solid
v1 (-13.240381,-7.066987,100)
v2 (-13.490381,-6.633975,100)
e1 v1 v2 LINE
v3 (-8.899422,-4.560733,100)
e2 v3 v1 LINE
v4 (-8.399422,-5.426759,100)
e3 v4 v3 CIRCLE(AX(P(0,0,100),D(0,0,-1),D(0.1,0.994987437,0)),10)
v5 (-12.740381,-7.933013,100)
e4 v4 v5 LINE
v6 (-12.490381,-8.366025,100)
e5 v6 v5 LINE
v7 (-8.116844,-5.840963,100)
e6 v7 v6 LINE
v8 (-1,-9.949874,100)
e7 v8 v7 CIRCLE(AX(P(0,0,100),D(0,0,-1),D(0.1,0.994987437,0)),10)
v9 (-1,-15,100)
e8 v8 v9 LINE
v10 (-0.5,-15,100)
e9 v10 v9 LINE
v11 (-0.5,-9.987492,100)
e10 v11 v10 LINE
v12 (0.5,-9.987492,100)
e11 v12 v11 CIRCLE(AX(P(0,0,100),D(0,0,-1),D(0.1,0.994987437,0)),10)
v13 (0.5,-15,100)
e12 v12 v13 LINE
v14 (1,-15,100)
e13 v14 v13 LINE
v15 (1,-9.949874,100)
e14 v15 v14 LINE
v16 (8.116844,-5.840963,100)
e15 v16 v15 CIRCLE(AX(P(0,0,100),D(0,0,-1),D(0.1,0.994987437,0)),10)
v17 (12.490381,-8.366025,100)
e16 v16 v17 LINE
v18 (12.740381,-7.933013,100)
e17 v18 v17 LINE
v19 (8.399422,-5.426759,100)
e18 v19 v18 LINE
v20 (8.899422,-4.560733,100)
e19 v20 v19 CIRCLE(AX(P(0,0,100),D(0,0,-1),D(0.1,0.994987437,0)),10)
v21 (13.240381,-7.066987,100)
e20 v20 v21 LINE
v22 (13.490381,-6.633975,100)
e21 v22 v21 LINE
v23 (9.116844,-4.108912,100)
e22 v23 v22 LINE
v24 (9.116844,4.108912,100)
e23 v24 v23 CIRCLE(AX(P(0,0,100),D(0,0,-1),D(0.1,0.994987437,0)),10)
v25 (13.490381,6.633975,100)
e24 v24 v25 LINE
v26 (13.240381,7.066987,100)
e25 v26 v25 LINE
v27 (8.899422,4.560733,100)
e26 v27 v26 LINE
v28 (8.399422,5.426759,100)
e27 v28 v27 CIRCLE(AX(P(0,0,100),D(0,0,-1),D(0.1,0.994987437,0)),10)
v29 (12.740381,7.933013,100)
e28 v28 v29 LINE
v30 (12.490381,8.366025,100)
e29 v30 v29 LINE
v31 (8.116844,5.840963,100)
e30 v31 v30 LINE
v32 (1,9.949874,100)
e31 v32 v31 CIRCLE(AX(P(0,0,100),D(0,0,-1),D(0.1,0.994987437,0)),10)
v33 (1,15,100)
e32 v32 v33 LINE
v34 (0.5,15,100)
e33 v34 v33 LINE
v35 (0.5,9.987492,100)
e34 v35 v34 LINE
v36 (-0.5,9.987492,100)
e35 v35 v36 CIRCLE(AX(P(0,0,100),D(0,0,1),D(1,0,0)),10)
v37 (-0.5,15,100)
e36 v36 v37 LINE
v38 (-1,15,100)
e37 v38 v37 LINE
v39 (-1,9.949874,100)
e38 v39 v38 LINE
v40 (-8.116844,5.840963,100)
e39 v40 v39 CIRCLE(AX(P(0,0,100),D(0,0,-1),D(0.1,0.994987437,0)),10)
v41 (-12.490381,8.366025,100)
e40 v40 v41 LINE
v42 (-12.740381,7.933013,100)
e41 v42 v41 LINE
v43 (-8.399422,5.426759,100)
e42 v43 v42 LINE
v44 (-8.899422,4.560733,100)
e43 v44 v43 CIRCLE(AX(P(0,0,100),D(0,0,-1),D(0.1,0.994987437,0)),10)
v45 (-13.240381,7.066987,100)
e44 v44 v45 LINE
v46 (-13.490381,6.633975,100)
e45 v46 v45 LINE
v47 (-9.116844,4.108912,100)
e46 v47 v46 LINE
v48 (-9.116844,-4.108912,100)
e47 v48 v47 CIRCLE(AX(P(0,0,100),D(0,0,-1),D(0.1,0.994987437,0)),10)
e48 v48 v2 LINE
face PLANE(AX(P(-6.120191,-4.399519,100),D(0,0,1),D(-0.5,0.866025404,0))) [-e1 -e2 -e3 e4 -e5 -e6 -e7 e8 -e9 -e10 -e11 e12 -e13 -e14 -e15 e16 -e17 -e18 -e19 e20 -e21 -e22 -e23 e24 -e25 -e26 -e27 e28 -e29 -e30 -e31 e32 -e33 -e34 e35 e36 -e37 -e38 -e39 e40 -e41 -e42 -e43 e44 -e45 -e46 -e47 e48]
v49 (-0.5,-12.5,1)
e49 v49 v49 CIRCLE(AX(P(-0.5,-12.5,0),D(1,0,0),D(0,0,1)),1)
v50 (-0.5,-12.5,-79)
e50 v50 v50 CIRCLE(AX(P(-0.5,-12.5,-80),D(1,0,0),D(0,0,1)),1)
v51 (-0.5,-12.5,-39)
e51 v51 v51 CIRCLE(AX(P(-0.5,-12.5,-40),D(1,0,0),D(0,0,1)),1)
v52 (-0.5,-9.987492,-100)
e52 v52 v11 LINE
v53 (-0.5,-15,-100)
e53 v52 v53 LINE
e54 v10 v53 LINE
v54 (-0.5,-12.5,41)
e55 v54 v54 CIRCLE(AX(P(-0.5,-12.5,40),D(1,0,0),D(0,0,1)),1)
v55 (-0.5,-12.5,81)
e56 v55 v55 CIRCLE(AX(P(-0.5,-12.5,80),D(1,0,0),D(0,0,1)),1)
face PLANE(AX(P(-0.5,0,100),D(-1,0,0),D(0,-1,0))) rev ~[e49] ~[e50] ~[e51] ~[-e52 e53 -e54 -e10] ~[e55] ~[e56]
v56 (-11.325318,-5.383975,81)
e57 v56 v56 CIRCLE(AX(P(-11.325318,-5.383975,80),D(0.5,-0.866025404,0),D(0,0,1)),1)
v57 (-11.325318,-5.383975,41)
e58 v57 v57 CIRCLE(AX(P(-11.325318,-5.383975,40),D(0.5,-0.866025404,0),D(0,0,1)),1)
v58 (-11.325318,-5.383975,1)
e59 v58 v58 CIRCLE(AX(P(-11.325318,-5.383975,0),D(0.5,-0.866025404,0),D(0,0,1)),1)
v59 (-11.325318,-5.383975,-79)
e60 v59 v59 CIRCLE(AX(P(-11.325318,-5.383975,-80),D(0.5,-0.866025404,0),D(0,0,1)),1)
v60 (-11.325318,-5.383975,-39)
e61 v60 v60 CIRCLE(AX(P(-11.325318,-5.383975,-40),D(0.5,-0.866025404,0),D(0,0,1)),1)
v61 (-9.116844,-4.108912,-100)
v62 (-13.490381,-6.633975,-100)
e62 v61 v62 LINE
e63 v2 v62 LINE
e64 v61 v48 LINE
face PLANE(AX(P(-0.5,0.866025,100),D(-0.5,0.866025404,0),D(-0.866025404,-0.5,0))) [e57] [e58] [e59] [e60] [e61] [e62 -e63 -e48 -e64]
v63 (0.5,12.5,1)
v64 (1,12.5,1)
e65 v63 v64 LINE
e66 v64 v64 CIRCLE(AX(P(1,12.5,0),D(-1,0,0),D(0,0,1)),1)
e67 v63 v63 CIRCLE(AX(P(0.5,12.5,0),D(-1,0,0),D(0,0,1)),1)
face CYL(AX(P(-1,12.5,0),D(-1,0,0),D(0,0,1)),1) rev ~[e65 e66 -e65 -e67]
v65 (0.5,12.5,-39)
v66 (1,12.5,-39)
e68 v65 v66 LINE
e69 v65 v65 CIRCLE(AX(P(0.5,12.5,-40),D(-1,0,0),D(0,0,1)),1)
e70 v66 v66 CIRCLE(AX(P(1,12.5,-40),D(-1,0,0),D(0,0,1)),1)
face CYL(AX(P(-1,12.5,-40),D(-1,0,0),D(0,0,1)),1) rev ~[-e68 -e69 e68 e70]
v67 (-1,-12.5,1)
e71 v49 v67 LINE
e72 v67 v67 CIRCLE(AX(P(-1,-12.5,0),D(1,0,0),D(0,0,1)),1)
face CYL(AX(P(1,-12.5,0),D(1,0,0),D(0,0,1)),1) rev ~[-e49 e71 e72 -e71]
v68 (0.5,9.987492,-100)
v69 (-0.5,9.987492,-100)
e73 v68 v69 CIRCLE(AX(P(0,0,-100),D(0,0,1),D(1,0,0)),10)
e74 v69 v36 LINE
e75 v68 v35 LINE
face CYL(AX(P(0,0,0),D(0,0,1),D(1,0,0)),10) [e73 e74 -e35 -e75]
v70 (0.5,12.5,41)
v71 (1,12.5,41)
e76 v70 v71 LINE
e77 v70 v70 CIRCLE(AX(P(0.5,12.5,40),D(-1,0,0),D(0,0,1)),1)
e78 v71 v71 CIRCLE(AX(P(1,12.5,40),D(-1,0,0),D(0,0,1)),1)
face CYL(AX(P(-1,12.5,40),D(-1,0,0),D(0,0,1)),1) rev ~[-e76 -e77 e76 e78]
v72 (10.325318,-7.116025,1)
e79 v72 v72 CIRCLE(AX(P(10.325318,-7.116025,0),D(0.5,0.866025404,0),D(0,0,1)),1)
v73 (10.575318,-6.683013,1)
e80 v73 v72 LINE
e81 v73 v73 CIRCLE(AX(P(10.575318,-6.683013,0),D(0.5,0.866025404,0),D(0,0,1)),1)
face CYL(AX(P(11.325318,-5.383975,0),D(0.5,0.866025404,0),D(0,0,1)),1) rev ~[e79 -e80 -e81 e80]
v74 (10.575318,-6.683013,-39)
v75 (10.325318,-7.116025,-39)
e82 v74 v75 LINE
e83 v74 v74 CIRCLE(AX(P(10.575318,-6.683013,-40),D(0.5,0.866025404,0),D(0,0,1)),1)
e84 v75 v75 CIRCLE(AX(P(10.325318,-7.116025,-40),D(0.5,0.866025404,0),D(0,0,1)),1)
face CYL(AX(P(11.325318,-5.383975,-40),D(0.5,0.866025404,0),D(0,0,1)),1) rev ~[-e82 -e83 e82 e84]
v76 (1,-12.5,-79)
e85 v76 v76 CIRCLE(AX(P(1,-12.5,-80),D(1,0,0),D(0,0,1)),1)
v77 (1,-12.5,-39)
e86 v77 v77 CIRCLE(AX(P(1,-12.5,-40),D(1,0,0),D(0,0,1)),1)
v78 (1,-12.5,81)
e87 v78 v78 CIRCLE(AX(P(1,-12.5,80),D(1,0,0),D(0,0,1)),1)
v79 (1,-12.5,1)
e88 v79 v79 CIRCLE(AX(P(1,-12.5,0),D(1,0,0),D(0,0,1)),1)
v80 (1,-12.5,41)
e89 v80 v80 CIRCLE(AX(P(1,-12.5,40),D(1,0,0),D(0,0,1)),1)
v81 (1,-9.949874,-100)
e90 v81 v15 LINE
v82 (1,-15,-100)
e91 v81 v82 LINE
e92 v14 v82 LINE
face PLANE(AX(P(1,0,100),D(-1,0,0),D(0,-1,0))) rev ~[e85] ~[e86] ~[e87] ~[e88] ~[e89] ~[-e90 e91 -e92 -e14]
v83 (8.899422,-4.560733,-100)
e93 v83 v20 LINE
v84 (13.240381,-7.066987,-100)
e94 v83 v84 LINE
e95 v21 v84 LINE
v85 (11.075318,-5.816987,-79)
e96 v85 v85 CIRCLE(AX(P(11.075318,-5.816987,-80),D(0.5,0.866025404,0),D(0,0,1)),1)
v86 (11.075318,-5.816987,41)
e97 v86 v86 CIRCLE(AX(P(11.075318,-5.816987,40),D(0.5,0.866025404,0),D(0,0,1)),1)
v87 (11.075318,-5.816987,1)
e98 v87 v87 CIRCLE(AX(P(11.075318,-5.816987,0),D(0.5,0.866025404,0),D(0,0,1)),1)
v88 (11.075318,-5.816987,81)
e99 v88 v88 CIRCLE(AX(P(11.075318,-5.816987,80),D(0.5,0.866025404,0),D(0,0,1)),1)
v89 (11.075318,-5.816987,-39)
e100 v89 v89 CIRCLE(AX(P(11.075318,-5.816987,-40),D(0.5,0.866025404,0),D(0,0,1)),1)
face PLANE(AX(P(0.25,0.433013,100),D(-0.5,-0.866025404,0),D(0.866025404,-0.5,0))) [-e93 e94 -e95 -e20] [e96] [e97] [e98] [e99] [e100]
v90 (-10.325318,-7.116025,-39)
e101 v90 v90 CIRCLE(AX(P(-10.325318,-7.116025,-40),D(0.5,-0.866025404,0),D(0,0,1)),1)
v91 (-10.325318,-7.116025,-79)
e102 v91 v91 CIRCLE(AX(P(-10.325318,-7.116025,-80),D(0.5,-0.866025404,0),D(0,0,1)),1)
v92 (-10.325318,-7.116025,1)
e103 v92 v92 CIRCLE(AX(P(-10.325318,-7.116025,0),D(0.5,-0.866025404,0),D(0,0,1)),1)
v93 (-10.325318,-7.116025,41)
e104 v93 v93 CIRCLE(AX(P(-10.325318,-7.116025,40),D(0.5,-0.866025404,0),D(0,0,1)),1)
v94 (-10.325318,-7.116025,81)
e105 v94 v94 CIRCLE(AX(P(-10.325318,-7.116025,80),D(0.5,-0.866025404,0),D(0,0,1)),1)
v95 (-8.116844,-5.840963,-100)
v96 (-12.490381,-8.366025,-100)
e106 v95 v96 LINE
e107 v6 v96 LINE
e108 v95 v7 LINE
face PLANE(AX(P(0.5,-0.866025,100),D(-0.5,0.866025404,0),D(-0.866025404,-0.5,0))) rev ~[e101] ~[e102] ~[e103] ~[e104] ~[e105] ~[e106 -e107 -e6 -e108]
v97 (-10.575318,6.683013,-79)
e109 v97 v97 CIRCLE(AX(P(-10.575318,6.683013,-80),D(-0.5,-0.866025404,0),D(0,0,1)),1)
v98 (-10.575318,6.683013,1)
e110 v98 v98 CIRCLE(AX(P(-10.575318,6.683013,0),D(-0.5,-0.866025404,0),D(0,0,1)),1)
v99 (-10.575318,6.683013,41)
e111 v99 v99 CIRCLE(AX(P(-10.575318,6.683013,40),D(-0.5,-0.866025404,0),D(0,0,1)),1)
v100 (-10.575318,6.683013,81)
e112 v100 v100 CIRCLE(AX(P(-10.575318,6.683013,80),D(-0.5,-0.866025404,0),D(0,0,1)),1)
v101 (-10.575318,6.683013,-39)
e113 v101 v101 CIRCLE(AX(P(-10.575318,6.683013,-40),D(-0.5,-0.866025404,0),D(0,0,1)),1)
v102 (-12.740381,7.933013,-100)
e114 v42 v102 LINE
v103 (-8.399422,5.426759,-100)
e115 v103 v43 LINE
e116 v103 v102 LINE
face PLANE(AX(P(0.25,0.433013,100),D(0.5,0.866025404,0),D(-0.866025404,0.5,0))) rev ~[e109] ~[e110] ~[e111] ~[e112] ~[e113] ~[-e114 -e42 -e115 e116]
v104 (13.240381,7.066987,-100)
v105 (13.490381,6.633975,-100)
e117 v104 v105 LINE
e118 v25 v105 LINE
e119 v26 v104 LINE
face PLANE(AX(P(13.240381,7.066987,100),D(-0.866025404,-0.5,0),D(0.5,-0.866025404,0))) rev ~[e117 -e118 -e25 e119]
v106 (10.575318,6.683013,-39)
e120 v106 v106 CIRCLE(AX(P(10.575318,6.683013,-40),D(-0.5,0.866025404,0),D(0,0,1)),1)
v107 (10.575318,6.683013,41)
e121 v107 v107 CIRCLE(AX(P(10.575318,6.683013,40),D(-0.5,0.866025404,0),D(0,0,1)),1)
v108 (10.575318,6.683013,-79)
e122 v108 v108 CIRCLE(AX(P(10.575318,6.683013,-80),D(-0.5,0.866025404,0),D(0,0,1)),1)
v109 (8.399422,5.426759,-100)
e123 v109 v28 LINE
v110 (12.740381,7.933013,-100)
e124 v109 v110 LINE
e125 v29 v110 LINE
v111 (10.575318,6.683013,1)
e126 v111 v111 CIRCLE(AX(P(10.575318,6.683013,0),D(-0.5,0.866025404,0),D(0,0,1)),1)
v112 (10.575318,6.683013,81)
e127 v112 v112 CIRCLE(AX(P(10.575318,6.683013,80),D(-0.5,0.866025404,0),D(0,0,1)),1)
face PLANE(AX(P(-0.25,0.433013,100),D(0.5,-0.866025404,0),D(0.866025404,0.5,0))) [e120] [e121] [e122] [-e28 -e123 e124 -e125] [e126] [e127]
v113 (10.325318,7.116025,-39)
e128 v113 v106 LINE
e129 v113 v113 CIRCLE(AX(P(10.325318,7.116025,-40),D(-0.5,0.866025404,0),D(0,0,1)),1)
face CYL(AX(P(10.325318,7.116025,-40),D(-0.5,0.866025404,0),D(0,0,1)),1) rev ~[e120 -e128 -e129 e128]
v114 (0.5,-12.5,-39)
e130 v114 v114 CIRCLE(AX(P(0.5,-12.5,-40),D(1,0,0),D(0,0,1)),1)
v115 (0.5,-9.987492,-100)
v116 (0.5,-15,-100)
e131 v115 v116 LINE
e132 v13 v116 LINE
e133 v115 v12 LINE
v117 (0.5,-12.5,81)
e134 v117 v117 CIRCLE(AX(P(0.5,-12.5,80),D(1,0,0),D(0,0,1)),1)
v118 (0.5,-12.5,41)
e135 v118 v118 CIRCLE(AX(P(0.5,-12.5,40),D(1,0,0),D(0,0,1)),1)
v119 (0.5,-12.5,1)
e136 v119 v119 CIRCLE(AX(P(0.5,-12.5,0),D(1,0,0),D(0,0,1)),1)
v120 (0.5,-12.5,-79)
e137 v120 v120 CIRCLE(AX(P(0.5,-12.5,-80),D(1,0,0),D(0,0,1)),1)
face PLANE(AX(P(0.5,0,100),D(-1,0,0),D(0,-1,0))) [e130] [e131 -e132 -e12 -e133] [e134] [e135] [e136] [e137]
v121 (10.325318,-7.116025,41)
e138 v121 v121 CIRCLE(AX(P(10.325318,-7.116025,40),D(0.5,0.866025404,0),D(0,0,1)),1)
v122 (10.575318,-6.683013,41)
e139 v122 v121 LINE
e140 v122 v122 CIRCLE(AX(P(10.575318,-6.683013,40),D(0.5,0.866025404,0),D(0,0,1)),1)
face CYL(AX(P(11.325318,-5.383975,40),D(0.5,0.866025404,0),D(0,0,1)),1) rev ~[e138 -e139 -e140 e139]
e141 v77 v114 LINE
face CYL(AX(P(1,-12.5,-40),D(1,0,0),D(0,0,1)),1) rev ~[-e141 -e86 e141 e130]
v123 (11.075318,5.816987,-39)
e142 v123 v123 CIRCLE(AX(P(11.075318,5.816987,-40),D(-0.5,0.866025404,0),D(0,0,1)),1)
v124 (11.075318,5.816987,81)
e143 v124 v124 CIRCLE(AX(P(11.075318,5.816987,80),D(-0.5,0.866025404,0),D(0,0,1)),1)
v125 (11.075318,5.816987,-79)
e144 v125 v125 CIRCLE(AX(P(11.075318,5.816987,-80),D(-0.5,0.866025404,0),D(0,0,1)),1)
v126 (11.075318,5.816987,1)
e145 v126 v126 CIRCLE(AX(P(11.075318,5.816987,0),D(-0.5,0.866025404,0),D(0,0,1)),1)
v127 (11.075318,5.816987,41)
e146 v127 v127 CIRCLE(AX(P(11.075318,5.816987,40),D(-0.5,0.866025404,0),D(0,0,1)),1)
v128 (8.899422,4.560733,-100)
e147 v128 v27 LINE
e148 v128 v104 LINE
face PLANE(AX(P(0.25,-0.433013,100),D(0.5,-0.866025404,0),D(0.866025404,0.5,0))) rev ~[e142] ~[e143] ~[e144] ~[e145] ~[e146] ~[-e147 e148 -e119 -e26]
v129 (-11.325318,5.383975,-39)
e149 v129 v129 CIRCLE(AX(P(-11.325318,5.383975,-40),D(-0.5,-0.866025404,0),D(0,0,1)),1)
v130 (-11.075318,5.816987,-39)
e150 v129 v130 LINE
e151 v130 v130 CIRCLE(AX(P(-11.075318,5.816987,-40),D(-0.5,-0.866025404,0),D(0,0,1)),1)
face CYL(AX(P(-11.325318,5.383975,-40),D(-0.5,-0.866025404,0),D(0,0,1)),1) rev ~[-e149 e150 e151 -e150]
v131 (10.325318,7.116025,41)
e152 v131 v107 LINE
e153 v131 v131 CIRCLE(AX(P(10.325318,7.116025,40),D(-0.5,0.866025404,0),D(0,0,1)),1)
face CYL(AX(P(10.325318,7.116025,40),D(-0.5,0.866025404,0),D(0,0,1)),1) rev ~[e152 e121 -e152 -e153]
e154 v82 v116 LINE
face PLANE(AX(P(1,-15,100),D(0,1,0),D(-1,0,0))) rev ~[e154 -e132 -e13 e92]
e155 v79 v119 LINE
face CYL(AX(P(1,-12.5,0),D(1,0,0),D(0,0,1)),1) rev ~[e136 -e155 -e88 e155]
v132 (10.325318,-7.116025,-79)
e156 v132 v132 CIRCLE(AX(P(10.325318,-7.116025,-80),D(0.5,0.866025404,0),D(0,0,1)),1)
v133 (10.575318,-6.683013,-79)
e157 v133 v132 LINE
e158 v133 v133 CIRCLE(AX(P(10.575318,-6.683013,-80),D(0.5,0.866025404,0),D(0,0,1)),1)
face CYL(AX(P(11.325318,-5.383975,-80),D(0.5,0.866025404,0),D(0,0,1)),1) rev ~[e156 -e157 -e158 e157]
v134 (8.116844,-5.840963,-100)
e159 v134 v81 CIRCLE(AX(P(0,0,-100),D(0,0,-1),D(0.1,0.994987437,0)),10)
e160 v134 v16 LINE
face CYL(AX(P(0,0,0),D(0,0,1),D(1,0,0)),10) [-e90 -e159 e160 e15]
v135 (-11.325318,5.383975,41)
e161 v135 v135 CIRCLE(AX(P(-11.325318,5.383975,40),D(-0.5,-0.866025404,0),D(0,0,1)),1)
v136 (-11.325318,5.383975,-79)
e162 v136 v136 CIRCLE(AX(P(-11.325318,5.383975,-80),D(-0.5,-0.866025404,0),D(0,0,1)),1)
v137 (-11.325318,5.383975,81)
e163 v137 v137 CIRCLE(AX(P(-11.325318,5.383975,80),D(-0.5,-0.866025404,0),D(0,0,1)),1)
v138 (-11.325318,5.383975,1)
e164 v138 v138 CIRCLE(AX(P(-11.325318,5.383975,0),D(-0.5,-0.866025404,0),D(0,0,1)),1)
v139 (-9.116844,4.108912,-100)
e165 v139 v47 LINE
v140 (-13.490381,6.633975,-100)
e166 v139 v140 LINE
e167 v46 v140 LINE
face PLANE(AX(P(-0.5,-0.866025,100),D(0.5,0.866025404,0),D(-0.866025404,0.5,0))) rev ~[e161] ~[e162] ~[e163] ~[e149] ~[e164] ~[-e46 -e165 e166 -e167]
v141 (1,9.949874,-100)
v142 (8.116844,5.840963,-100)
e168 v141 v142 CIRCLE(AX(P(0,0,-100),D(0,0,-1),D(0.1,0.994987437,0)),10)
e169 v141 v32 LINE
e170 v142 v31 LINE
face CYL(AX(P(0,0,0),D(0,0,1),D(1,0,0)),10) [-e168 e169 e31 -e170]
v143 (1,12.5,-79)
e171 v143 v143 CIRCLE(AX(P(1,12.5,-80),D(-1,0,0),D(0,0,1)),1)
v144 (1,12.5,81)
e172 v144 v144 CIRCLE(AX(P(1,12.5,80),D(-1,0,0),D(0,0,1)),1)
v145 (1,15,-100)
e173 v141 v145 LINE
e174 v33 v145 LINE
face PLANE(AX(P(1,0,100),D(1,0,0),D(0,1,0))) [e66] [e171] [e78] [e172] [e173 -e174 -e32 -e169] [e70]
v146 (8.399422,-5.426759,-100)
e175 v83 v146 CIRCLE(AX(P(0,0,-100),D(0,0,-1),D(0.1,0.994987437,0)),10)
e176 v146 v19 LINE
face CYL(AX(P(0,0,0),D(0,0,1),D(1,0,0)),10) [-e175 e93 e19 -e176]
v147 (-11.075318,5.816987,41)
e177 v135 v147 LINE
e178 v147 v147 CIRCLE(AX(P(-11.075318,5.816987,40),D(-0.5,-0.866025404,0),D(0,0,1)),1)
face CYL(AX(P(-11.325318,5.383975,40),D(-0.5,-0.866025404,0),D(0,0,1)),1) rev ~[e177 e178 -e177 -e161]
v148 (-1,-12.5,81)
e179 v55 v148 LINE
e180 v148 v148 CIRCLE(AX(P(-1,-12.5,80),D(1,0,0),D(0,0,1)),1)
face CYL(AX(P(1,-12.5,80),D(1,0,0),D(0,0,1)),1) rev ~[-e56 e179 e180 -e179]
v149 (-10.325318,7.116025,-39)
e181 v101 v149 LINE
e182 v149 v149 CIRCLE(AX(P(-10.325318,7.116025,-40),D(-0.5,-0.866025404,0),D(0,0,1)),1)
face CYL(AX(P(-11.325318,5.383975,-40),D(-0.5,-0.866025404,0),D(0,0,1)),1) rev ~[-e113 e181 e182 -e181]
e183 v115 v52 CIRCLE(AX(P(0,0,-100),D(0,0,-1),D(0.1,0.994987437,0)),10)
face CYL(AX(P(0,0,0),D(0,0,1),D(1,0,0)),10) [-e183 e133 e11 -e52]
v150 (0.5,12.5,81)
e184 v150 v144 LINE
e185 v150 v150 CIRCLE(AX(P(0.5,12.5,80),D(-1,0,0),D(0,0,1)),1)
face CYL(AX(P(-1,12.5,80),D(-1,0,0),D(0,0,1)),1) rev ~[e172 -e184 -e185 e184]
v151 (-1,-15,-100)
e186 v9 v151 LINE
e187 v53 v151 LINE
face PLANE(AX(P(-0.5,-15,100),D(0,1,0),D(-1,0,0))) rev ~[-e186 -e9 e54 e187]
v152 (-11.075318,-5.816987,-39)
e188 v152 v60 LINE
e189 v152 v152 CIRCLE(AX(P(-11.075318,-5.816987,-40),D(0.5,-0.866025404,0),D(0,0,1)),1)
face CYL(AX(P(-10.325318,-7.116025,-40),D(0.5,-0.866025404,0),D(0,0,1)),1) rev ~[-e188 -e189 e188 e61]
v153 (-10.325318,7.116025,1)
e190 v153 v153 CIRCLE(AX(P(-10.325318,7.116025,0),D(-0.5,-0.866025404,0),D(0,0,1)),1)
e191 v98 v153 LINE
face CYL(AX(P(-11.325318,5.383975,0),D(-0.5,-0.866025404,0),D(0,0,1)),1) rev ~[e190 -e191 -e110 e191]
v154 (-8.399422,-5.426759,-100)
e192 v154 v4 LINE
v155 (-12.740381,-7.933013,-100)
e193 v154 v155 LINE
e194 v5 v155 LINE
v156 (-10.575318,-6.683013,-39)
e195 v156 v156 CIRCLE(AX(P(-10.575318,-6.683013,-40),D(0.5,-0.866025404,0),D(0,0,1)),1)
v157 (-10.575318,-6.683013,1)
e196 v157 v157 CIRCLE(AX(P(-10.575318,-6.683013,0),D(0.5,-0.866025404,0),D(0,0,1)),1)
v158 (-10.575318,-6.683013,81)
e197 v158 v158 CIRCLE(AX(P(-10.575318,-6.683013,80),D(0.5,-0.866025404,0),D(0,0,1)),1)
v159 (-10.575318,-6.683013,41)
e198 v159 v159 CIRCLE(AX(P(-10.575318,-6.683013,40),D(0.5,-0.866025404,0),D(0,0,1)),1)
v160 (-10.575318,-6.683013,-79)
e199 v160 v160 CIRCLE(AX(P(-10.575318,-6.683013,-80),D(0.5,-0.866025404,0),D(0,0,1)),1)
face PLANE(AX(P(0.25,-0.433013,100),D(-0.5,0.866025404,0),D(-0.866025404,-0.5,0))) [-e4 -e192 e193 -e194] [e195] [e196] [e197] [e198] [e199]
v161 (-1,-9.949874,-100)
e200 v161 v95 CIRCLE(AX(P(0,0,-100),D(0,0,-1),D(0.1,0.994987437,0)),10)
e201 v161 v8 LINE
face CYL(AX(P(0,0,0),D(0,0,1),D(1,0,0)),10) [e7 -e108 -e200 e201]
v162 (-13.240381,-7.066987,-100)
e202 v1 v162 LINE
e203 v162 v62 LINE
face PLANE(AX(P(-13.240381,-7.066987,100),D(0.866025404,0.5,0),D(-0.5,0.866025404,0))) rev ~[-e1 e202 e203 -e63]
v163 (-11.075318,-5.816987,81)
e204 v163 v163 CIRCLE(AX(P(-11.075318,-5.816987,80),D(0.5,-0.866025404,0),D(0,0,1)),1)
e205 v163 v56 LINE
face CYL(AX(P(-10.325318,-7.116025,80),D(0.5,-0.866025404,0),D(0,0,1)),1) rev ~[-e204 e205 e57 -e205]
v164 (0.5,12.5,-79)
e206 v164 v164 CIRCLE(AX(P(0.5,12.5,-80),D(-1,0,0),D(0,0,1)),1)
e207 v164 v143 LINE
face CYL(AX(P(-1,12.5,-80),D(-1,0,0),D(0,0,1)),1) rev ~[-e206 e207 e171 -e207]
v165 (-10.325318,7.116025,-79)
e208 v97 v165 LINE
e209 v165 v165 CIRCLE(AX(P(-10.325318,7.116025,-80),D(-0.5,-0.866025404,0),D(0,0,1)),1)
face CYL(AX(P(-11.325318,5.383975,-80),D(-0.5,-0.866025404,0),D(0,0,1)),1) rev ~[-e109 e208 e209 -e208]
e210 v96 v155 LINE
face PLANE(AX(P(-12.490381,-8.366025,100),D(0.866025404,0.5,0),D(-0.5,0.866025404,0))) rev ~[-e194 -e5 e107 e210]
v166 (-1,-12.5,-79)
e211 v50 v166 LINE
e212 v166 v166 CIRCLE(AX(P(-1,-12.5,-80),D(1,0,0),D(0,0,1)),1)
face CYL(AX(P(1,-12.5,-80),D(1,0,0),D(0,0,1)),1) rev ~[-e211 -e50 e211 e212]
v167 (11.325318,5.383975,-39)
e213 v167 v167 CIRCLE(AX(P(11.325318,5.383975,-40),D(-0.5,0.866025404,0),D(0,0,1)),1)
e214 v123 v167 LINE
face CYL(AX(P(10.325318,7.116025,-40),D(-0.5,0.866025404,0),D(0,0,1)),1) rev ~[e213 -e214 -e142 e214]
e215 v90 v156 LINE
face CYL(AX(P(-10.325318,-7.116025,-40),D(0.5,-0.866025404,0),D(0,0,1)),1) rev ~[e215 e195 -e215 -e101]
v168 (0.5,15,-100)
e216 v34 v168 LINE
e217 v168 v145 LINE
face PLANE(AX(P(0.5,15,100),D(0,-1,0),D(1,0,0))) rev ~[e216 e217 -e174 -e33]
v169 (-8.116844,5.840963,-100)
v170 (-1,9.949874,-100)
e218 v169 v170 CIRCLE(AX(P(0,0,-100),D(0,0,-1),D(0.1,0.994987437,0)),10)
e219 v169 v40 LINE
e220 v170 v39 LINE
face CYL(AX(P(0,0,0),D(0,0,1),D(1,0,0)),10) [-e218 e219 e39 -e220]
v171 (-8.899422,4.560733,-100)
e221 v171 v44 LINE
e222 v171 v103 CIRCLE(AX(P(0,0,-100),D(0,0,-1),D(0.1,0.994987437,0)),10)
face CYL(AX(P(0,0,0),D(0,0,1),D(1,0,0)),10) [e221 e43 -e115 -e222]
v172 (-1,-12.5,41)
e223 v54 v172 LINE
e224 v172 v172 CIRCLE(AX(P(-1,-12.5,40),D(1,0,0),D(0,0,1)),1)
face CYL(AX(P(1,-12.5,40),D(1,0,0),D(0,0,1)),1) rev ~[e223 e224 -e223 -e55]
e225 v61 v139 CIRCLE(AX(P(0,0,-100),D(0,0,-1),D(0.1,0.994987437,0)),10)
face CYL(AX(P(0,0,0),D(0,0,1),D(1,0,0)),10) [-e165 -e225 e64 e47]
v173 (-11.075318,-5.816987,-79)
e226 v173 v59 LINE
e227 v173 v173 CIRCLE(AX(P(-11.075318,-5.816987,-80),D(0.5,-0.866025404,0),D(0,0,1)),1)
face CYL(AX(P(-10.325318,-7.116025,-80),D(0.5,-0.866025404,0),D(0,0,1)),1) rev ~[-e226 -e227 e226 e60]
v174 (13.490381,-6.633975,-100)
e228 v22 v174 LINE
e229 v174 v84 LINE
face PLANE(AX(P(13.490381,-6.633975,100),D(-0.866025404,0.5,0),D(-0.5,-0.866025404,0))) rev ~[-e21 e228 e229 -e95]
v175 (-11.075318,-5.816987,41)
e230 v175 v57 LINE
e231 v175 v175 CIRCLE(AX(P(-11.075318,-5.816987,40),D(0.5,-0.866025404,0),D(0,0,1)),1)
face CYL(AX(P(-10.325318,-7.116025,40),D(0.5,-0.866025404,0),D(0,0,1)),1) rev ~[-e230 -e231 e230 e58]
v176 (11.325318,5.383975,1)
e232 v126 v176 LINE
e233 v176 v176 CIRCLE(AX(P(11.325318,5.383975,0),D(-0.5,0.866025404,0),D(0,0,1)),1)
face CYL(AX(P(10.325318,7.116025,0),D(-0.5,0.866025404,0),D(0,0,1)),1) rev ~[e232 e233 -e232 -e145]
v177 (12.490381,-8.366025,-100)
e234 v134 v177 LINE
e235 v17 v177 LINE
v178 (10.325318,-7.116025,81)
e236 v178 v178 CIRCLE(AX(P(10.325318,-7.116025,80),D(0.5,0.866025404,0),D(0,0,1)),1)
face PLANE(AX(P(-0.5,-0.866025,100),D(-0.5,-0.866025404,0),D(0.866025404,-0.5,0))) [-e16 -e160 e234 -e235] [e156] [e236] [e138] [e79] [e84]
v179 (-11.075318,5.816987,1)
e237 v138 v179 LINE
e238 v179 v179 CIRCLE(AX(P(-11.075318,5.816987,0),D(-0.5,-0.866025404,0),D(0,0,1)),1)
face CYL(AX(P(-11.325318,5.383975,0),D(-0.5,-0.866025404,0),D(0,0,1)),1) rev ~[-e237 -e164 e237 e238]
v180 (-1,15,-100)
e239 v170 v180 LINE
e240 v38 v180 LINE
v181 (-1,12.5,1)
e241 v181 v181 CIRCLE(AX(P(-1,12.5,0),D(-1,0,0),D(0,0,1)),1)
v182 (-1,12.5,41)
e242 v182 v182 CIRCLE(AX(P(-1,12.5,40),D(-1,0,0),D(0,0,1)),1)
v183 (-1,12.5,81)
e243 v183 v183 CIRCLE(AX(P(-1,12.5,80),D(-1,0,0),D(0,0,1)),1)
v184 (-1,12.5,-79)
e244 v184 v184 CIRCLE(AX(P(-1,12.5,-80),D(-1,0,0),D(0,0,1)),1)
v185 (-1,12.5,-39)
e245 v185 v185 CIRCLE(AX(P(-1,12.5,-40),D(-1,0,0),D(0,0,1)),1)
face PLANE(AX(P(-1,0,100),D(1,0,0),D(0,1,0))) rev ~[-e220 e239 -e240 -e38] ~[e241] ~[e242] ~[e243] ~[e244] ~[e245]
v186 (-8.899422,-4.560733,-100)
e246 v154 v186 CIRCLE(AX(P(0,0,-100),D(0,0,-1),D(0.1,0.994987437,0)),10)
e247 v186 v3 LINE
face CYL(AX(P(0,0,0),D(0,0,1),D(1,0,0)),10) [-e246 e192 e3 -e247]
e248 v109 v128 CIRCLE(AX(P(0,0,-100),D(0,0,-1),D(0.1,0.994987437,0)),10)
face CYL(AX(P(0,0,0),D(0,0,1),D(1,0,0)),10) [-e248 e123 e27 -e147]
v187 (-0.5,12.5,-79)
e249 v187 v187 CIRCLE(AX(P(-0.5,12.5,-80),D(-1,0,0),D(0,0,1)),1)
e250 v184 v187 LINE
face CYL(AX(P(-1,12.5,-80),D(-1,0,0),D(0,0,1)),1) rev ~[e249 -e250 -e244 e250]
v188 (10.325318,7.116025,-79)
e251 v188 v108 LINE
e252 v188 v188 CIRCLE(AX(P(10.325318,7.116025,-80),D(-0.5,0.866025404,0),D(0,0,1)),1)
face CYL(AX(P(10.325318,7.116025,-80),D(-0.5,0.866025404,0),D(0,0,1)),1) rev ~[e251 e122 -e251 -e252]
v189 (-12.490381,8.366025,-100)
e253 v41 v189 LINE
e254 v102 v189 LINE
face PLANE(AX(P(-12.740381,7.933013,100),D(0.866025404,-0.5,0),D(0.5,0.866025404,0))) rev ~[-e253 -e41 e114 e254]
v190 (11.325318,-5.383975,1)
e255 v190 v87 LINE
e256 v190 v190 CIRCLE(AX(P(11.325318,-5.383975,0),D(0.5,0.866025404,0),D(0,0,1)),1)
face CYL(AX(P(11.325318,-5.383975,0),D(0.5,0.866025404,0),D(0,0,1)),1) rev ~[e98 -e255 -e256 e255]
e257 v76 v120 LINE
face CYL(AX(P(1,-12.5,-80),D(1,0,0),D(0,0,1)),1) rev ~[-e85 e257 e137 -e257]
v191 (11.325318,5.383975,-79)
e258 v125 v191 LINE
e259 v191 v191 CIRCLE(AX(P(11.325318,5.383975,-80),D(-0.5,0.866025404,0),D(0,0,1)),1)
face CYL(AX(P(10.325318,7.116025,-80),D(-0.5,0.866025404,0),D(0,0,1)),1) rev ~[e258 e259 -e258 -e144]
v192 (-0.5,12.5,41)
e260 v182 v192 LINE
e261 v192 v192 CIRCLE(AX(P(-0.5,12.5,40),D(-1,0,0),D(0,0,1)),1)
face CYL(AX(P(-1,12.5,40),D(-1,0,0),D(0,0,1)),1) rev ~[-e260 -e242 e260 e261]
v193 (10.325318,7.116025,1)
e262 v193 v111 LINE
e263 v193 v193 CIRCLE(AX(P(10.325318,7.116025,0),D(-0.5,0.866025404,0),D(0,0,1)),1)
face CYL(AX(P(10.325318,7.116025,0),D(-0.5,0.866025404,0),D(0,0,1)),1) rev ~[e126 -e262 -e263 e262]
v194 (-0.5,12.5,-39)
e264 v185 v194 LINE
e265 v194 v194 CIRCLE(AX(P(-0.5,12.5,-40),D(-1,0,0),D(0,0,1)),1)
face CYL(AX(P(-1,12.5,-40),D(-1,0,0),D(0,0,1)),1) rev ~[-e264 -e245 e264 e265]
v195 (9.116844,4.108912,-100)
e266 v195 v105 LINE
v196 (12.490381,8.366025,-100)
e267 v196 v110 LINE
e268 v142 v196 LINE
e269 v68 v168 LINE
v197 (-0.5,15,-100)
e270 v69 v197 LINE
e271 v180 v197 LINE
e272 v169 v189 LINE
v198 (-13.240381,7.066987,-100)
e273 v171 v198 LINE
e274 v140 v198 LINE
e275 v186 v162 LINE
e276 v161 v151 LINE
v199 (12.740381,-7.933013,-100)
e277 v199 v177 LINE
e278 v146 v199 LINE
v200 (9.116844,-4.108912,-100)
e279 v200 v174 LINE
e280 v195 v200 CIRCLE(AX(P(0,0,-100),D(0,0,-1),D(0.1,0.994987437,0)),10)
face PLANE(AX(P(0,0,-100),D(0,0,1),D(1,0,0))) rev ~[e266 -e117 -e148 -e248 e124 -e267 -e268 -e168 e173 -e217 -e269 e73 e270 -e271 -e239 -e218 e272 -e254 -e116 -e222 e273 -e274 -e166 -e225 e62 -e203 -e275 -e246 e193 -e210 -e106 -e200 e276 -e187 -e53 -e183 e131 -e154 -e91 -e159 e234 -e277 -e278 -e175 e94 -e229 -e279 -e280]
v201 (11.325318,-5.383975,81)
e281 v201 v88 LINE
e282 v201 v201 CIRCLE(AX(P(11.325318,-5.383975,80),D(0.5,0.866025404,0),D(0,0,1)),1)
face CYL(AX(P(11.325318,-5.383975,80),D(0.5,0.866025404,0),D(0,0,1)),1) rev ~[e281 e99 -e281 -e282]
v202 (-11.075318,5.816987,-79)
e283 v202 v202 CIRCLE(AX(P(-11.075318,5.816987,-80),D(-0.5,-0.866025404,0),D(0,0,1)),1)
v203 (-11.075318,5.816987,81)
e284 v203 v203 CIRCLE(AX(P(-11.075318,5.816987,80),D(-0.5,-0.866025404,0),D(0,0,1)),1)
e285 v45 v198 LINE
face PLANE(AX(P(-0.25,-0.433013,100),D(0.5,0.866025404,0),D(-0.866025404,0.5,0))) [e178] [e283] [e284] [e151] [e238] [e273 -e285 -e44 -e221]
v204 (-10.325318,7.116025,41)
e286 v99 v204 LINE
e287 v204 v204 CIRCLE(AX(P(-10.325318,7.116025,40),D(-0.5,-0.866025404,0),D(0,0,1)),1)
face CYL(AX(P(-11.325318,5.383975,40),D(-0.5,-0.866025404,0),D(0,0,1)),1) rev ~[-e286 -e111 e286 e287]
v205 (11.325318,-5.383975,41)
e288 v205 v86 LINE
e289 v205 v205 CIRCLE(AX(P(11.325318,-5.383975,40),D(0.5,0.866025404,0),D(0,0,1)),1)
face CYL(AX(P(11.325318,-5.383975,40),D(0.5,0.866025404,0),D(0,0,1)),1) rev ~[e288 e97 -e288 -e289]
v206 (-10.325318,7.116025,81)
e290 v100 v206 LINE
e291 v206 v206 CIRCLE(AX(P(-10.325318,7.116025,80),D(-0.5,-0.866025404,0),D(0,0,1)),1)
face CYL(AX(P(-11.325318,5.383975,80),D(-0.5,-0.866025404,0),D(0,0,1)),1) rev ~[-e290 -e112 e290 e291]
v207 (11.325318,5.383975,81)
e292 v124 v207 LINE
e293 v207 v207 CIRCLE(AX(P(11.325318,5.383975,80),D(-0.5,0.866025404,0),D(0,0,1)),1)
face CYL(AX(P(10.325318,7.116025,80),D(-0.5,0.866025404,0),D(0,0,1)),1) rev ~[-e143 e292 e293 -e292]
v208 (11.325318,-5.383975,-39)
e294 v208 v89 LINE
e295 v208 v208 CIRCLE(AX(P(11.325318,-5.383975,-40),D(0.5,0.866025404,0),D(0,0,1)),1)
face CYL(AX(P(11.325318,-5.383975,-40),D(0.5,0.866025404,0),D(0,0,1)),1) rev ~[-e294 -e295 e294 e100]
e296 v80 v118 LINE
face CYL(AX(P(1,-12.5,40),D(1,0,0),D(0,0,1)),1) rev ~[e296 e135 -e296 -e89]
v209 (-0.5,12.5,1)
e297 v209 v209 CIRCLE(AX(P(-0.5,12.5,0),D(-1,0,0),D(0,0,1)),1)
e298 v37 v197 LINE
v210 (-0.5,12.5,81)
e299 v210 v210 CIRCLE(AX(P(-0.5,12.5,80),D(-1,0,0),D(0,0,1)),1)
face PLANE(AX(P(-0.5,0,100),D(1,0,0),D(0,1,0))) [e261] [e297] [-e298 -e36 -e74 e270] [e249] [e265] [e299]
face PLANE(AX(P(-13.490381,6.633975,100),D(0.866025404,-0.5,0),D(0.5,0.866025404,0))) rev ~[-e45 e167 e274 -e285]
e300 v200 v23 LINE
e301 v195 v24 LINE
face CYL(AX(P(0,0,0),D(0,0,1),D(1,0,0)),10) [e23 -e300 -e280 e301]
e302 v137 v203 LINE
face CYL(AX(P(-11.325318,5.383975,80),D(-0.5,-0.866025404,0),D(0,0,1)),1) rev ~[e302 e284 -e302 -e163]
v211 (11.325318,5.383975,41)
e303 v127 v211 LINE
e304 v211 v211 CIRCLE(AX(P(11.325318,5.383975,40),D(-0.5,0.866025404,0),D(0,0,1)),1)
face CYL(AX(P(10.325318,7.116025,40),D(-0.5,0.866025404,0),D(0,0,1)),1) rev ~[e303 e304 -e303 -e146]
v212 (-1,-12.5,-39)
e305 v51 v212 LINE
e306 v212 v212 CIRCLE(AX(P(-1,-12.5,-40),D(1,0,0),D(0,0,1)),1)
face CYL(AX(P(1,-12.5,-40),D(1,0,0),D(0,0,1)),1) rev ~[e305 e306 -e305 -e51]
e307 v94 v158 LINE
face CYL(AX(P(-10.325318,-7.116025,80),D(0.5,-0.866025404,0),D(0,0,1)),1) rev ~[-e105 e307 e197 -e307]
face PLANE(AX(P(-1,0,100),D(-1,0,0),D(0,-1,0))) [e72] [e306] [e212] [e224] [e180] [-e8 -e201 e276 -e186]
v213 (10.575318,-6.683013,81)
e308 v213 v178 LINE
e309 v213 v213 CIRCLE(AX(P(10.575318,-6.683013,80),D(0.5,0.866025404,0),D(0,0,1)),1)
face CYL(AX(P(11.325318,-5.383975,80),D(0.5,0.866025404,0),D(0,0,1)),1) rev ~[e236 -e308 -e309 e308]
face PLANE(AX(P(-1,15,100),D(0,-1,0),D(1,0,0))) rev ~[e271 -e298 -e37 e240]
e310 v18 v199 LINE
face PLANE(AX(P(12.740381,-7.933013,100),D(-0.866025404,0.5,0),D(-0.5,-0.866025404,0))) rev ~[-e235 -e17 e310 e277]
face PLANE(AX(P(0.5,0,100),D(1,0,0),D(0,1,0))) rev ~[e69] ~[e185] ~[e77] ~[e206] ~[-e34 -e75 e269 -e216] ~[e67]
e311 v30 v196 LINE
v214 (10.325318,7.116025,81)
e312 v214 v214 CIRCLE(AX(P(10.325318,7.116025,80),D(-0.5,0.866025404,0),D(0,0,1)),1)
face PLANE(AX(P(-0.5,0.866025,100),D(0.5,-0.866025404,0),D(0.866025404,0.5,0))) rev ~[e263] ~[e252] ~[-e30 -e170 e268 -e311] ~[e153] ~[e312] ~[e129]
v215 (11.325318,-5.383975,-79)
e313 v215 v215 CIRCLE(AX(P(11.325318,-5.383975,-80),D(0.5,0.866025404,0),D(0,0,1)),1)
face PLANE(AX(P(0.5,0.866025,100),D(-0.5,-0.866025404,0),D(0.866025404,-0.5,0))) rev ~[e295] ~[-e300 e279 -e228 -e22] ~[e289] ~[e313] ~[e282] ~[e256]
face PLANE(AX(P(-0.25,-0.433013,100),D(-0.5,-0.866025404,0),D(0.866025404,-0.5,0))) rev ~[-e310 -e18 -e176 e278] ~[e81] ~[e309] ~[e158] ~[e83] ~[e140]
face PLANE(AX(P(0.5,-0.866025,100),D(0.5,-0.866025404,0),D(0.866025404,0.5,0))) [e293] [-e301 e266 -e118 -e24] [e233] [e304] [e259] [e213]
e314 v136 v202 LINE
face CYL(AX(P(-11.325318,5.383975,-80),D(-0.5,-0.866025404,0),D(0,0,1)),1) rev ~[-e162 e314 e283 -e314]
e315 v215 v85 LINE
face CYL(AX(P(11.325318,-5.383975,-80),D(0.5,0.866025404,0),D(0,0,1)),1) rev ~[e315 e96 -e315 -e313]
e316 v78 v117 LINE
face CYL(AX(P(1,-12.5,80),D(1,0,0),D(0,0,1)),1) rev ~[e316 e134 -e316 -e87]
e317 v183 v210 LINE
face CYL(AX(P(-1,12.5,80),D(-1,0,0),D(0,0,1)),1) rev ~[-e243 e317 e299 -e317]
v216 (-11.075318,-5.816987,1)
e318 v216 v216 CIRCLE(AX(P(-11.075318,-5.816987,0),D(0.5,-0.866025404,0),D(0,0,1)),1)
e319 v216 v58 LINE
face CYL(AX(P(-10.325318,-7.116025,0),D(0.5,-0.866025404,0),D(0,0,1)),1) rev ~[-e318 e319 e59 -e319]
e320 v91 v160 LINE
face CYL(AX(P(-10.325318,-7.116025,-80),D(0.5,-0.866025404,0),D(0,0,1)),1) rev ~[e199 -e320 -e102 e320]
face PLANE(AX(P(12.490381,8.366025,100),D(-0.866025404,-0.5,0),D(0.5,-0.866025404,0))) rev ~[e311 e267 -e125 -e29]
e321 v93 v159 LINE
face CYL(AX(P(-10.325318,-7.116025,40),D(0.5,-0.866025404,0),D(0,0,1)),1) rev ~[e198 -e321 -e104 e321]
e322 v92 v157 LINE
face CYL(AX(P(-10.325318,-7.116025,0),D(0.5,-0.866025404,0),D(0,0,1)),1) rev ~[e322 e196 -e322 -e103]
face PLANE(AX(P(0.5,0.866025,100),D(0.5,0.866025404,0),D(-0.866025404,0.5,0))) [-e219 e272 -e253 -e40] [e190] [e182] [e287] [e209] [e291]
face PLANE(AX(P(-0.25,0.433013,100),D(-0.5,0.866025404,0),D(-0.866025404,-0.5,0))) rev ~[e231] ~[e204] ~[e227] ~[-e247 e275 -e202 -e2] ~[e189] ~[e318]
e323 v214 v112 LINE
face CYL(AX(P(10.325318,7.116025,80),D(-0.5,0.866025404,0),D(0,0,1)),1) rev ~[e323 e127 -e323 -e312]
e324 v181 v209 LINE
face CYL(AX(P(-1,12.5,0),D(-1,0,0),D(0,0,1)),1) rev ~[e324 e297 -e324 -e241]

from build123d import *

# Parameters (mm, degrees)
SKETCH1_R           = 10
BOSS_EXTRUDE1_DEPTH = 100
SKETCH4_W           = 0.5
SKETCH4_H           = 15
BOSS_EXTRUDE3_DEPTH = 200
CIRPATTERN7_COUNT   = 6
SKETCH7_R           = 1
CUT_EXTRUDE2_DEPTH  = 5
CIRPATTERN9_COUNT   = 6


with BuildPart() as part:
    # Sketch1 → Boss-Extrude1 (new, symmetric)
    with BuildSketch(Plane.XY):
        Circle(SKETCH1_R)
    extrude(amount=BOSS_EXTRUDE1_DEPTH, both=True)

    # Sketch4 → Boss-Extrude3 (add)
    with BuildSketch(Plane.XY.offset(100)):
        with Locations((-0.75, 7.5)):
            Rectangle(SKETCH4_W, SKETCH4_H)
        with Locations((0.75, 7.5)):
            Rectangle(SKETCH4_W, SKETCH4_H)
    boss_extrude3 = extrude(amount=-BOSS_EXTRUDE3_DEPTH)

    # CirPattern7: Boss-Extrude3 ×6 about axis
    cirpattern7_axis = Axis((0, 0, 0), (0, 0, 1))
    for i in range(1, CIRPATTERN7_COUNT):
        add(boss_extrude3.rotate(cirpattern7_axis, i * 360 / CIRPATTERN7_COUNT))

    # Sketch7 → Cut-Extrude2 (cut)
    with BuildSketch(Plane.ZY.offset(1)):
        with Locations((-80, 12.5)):
            Circle(SKETCH7_R)
        with Locations((-40, 12.5)):
            Circle(SKETCH7_R)
        with Locations((0, 12.5)):
            Circle(SKETCH7_R)
        with Locations((40, 12.5)):
            Circle(SKETCH7_R)
        with Locations((80, 12.5)):
            Circle(SKETCH7_R)
    cut_extrude2 = extrude(amount=-CUT_EXTRUDE2_DEPTH, mode=Mode.SUBTRACT)

    # CirPattern9: Cut-Extrude2 ×6 about axis
    cirpattern9_axis = Axis((0, 0, 100), (0, 0, 1))
    for i in range(1, CIRPATTERN9_COUNT):
        add(cut_extrude2.rotate(cirpattern9_axis, i * 360 / CIRPATTERN9_COUNT), mode=Mode.SUBTRACT)


solid = part.part
